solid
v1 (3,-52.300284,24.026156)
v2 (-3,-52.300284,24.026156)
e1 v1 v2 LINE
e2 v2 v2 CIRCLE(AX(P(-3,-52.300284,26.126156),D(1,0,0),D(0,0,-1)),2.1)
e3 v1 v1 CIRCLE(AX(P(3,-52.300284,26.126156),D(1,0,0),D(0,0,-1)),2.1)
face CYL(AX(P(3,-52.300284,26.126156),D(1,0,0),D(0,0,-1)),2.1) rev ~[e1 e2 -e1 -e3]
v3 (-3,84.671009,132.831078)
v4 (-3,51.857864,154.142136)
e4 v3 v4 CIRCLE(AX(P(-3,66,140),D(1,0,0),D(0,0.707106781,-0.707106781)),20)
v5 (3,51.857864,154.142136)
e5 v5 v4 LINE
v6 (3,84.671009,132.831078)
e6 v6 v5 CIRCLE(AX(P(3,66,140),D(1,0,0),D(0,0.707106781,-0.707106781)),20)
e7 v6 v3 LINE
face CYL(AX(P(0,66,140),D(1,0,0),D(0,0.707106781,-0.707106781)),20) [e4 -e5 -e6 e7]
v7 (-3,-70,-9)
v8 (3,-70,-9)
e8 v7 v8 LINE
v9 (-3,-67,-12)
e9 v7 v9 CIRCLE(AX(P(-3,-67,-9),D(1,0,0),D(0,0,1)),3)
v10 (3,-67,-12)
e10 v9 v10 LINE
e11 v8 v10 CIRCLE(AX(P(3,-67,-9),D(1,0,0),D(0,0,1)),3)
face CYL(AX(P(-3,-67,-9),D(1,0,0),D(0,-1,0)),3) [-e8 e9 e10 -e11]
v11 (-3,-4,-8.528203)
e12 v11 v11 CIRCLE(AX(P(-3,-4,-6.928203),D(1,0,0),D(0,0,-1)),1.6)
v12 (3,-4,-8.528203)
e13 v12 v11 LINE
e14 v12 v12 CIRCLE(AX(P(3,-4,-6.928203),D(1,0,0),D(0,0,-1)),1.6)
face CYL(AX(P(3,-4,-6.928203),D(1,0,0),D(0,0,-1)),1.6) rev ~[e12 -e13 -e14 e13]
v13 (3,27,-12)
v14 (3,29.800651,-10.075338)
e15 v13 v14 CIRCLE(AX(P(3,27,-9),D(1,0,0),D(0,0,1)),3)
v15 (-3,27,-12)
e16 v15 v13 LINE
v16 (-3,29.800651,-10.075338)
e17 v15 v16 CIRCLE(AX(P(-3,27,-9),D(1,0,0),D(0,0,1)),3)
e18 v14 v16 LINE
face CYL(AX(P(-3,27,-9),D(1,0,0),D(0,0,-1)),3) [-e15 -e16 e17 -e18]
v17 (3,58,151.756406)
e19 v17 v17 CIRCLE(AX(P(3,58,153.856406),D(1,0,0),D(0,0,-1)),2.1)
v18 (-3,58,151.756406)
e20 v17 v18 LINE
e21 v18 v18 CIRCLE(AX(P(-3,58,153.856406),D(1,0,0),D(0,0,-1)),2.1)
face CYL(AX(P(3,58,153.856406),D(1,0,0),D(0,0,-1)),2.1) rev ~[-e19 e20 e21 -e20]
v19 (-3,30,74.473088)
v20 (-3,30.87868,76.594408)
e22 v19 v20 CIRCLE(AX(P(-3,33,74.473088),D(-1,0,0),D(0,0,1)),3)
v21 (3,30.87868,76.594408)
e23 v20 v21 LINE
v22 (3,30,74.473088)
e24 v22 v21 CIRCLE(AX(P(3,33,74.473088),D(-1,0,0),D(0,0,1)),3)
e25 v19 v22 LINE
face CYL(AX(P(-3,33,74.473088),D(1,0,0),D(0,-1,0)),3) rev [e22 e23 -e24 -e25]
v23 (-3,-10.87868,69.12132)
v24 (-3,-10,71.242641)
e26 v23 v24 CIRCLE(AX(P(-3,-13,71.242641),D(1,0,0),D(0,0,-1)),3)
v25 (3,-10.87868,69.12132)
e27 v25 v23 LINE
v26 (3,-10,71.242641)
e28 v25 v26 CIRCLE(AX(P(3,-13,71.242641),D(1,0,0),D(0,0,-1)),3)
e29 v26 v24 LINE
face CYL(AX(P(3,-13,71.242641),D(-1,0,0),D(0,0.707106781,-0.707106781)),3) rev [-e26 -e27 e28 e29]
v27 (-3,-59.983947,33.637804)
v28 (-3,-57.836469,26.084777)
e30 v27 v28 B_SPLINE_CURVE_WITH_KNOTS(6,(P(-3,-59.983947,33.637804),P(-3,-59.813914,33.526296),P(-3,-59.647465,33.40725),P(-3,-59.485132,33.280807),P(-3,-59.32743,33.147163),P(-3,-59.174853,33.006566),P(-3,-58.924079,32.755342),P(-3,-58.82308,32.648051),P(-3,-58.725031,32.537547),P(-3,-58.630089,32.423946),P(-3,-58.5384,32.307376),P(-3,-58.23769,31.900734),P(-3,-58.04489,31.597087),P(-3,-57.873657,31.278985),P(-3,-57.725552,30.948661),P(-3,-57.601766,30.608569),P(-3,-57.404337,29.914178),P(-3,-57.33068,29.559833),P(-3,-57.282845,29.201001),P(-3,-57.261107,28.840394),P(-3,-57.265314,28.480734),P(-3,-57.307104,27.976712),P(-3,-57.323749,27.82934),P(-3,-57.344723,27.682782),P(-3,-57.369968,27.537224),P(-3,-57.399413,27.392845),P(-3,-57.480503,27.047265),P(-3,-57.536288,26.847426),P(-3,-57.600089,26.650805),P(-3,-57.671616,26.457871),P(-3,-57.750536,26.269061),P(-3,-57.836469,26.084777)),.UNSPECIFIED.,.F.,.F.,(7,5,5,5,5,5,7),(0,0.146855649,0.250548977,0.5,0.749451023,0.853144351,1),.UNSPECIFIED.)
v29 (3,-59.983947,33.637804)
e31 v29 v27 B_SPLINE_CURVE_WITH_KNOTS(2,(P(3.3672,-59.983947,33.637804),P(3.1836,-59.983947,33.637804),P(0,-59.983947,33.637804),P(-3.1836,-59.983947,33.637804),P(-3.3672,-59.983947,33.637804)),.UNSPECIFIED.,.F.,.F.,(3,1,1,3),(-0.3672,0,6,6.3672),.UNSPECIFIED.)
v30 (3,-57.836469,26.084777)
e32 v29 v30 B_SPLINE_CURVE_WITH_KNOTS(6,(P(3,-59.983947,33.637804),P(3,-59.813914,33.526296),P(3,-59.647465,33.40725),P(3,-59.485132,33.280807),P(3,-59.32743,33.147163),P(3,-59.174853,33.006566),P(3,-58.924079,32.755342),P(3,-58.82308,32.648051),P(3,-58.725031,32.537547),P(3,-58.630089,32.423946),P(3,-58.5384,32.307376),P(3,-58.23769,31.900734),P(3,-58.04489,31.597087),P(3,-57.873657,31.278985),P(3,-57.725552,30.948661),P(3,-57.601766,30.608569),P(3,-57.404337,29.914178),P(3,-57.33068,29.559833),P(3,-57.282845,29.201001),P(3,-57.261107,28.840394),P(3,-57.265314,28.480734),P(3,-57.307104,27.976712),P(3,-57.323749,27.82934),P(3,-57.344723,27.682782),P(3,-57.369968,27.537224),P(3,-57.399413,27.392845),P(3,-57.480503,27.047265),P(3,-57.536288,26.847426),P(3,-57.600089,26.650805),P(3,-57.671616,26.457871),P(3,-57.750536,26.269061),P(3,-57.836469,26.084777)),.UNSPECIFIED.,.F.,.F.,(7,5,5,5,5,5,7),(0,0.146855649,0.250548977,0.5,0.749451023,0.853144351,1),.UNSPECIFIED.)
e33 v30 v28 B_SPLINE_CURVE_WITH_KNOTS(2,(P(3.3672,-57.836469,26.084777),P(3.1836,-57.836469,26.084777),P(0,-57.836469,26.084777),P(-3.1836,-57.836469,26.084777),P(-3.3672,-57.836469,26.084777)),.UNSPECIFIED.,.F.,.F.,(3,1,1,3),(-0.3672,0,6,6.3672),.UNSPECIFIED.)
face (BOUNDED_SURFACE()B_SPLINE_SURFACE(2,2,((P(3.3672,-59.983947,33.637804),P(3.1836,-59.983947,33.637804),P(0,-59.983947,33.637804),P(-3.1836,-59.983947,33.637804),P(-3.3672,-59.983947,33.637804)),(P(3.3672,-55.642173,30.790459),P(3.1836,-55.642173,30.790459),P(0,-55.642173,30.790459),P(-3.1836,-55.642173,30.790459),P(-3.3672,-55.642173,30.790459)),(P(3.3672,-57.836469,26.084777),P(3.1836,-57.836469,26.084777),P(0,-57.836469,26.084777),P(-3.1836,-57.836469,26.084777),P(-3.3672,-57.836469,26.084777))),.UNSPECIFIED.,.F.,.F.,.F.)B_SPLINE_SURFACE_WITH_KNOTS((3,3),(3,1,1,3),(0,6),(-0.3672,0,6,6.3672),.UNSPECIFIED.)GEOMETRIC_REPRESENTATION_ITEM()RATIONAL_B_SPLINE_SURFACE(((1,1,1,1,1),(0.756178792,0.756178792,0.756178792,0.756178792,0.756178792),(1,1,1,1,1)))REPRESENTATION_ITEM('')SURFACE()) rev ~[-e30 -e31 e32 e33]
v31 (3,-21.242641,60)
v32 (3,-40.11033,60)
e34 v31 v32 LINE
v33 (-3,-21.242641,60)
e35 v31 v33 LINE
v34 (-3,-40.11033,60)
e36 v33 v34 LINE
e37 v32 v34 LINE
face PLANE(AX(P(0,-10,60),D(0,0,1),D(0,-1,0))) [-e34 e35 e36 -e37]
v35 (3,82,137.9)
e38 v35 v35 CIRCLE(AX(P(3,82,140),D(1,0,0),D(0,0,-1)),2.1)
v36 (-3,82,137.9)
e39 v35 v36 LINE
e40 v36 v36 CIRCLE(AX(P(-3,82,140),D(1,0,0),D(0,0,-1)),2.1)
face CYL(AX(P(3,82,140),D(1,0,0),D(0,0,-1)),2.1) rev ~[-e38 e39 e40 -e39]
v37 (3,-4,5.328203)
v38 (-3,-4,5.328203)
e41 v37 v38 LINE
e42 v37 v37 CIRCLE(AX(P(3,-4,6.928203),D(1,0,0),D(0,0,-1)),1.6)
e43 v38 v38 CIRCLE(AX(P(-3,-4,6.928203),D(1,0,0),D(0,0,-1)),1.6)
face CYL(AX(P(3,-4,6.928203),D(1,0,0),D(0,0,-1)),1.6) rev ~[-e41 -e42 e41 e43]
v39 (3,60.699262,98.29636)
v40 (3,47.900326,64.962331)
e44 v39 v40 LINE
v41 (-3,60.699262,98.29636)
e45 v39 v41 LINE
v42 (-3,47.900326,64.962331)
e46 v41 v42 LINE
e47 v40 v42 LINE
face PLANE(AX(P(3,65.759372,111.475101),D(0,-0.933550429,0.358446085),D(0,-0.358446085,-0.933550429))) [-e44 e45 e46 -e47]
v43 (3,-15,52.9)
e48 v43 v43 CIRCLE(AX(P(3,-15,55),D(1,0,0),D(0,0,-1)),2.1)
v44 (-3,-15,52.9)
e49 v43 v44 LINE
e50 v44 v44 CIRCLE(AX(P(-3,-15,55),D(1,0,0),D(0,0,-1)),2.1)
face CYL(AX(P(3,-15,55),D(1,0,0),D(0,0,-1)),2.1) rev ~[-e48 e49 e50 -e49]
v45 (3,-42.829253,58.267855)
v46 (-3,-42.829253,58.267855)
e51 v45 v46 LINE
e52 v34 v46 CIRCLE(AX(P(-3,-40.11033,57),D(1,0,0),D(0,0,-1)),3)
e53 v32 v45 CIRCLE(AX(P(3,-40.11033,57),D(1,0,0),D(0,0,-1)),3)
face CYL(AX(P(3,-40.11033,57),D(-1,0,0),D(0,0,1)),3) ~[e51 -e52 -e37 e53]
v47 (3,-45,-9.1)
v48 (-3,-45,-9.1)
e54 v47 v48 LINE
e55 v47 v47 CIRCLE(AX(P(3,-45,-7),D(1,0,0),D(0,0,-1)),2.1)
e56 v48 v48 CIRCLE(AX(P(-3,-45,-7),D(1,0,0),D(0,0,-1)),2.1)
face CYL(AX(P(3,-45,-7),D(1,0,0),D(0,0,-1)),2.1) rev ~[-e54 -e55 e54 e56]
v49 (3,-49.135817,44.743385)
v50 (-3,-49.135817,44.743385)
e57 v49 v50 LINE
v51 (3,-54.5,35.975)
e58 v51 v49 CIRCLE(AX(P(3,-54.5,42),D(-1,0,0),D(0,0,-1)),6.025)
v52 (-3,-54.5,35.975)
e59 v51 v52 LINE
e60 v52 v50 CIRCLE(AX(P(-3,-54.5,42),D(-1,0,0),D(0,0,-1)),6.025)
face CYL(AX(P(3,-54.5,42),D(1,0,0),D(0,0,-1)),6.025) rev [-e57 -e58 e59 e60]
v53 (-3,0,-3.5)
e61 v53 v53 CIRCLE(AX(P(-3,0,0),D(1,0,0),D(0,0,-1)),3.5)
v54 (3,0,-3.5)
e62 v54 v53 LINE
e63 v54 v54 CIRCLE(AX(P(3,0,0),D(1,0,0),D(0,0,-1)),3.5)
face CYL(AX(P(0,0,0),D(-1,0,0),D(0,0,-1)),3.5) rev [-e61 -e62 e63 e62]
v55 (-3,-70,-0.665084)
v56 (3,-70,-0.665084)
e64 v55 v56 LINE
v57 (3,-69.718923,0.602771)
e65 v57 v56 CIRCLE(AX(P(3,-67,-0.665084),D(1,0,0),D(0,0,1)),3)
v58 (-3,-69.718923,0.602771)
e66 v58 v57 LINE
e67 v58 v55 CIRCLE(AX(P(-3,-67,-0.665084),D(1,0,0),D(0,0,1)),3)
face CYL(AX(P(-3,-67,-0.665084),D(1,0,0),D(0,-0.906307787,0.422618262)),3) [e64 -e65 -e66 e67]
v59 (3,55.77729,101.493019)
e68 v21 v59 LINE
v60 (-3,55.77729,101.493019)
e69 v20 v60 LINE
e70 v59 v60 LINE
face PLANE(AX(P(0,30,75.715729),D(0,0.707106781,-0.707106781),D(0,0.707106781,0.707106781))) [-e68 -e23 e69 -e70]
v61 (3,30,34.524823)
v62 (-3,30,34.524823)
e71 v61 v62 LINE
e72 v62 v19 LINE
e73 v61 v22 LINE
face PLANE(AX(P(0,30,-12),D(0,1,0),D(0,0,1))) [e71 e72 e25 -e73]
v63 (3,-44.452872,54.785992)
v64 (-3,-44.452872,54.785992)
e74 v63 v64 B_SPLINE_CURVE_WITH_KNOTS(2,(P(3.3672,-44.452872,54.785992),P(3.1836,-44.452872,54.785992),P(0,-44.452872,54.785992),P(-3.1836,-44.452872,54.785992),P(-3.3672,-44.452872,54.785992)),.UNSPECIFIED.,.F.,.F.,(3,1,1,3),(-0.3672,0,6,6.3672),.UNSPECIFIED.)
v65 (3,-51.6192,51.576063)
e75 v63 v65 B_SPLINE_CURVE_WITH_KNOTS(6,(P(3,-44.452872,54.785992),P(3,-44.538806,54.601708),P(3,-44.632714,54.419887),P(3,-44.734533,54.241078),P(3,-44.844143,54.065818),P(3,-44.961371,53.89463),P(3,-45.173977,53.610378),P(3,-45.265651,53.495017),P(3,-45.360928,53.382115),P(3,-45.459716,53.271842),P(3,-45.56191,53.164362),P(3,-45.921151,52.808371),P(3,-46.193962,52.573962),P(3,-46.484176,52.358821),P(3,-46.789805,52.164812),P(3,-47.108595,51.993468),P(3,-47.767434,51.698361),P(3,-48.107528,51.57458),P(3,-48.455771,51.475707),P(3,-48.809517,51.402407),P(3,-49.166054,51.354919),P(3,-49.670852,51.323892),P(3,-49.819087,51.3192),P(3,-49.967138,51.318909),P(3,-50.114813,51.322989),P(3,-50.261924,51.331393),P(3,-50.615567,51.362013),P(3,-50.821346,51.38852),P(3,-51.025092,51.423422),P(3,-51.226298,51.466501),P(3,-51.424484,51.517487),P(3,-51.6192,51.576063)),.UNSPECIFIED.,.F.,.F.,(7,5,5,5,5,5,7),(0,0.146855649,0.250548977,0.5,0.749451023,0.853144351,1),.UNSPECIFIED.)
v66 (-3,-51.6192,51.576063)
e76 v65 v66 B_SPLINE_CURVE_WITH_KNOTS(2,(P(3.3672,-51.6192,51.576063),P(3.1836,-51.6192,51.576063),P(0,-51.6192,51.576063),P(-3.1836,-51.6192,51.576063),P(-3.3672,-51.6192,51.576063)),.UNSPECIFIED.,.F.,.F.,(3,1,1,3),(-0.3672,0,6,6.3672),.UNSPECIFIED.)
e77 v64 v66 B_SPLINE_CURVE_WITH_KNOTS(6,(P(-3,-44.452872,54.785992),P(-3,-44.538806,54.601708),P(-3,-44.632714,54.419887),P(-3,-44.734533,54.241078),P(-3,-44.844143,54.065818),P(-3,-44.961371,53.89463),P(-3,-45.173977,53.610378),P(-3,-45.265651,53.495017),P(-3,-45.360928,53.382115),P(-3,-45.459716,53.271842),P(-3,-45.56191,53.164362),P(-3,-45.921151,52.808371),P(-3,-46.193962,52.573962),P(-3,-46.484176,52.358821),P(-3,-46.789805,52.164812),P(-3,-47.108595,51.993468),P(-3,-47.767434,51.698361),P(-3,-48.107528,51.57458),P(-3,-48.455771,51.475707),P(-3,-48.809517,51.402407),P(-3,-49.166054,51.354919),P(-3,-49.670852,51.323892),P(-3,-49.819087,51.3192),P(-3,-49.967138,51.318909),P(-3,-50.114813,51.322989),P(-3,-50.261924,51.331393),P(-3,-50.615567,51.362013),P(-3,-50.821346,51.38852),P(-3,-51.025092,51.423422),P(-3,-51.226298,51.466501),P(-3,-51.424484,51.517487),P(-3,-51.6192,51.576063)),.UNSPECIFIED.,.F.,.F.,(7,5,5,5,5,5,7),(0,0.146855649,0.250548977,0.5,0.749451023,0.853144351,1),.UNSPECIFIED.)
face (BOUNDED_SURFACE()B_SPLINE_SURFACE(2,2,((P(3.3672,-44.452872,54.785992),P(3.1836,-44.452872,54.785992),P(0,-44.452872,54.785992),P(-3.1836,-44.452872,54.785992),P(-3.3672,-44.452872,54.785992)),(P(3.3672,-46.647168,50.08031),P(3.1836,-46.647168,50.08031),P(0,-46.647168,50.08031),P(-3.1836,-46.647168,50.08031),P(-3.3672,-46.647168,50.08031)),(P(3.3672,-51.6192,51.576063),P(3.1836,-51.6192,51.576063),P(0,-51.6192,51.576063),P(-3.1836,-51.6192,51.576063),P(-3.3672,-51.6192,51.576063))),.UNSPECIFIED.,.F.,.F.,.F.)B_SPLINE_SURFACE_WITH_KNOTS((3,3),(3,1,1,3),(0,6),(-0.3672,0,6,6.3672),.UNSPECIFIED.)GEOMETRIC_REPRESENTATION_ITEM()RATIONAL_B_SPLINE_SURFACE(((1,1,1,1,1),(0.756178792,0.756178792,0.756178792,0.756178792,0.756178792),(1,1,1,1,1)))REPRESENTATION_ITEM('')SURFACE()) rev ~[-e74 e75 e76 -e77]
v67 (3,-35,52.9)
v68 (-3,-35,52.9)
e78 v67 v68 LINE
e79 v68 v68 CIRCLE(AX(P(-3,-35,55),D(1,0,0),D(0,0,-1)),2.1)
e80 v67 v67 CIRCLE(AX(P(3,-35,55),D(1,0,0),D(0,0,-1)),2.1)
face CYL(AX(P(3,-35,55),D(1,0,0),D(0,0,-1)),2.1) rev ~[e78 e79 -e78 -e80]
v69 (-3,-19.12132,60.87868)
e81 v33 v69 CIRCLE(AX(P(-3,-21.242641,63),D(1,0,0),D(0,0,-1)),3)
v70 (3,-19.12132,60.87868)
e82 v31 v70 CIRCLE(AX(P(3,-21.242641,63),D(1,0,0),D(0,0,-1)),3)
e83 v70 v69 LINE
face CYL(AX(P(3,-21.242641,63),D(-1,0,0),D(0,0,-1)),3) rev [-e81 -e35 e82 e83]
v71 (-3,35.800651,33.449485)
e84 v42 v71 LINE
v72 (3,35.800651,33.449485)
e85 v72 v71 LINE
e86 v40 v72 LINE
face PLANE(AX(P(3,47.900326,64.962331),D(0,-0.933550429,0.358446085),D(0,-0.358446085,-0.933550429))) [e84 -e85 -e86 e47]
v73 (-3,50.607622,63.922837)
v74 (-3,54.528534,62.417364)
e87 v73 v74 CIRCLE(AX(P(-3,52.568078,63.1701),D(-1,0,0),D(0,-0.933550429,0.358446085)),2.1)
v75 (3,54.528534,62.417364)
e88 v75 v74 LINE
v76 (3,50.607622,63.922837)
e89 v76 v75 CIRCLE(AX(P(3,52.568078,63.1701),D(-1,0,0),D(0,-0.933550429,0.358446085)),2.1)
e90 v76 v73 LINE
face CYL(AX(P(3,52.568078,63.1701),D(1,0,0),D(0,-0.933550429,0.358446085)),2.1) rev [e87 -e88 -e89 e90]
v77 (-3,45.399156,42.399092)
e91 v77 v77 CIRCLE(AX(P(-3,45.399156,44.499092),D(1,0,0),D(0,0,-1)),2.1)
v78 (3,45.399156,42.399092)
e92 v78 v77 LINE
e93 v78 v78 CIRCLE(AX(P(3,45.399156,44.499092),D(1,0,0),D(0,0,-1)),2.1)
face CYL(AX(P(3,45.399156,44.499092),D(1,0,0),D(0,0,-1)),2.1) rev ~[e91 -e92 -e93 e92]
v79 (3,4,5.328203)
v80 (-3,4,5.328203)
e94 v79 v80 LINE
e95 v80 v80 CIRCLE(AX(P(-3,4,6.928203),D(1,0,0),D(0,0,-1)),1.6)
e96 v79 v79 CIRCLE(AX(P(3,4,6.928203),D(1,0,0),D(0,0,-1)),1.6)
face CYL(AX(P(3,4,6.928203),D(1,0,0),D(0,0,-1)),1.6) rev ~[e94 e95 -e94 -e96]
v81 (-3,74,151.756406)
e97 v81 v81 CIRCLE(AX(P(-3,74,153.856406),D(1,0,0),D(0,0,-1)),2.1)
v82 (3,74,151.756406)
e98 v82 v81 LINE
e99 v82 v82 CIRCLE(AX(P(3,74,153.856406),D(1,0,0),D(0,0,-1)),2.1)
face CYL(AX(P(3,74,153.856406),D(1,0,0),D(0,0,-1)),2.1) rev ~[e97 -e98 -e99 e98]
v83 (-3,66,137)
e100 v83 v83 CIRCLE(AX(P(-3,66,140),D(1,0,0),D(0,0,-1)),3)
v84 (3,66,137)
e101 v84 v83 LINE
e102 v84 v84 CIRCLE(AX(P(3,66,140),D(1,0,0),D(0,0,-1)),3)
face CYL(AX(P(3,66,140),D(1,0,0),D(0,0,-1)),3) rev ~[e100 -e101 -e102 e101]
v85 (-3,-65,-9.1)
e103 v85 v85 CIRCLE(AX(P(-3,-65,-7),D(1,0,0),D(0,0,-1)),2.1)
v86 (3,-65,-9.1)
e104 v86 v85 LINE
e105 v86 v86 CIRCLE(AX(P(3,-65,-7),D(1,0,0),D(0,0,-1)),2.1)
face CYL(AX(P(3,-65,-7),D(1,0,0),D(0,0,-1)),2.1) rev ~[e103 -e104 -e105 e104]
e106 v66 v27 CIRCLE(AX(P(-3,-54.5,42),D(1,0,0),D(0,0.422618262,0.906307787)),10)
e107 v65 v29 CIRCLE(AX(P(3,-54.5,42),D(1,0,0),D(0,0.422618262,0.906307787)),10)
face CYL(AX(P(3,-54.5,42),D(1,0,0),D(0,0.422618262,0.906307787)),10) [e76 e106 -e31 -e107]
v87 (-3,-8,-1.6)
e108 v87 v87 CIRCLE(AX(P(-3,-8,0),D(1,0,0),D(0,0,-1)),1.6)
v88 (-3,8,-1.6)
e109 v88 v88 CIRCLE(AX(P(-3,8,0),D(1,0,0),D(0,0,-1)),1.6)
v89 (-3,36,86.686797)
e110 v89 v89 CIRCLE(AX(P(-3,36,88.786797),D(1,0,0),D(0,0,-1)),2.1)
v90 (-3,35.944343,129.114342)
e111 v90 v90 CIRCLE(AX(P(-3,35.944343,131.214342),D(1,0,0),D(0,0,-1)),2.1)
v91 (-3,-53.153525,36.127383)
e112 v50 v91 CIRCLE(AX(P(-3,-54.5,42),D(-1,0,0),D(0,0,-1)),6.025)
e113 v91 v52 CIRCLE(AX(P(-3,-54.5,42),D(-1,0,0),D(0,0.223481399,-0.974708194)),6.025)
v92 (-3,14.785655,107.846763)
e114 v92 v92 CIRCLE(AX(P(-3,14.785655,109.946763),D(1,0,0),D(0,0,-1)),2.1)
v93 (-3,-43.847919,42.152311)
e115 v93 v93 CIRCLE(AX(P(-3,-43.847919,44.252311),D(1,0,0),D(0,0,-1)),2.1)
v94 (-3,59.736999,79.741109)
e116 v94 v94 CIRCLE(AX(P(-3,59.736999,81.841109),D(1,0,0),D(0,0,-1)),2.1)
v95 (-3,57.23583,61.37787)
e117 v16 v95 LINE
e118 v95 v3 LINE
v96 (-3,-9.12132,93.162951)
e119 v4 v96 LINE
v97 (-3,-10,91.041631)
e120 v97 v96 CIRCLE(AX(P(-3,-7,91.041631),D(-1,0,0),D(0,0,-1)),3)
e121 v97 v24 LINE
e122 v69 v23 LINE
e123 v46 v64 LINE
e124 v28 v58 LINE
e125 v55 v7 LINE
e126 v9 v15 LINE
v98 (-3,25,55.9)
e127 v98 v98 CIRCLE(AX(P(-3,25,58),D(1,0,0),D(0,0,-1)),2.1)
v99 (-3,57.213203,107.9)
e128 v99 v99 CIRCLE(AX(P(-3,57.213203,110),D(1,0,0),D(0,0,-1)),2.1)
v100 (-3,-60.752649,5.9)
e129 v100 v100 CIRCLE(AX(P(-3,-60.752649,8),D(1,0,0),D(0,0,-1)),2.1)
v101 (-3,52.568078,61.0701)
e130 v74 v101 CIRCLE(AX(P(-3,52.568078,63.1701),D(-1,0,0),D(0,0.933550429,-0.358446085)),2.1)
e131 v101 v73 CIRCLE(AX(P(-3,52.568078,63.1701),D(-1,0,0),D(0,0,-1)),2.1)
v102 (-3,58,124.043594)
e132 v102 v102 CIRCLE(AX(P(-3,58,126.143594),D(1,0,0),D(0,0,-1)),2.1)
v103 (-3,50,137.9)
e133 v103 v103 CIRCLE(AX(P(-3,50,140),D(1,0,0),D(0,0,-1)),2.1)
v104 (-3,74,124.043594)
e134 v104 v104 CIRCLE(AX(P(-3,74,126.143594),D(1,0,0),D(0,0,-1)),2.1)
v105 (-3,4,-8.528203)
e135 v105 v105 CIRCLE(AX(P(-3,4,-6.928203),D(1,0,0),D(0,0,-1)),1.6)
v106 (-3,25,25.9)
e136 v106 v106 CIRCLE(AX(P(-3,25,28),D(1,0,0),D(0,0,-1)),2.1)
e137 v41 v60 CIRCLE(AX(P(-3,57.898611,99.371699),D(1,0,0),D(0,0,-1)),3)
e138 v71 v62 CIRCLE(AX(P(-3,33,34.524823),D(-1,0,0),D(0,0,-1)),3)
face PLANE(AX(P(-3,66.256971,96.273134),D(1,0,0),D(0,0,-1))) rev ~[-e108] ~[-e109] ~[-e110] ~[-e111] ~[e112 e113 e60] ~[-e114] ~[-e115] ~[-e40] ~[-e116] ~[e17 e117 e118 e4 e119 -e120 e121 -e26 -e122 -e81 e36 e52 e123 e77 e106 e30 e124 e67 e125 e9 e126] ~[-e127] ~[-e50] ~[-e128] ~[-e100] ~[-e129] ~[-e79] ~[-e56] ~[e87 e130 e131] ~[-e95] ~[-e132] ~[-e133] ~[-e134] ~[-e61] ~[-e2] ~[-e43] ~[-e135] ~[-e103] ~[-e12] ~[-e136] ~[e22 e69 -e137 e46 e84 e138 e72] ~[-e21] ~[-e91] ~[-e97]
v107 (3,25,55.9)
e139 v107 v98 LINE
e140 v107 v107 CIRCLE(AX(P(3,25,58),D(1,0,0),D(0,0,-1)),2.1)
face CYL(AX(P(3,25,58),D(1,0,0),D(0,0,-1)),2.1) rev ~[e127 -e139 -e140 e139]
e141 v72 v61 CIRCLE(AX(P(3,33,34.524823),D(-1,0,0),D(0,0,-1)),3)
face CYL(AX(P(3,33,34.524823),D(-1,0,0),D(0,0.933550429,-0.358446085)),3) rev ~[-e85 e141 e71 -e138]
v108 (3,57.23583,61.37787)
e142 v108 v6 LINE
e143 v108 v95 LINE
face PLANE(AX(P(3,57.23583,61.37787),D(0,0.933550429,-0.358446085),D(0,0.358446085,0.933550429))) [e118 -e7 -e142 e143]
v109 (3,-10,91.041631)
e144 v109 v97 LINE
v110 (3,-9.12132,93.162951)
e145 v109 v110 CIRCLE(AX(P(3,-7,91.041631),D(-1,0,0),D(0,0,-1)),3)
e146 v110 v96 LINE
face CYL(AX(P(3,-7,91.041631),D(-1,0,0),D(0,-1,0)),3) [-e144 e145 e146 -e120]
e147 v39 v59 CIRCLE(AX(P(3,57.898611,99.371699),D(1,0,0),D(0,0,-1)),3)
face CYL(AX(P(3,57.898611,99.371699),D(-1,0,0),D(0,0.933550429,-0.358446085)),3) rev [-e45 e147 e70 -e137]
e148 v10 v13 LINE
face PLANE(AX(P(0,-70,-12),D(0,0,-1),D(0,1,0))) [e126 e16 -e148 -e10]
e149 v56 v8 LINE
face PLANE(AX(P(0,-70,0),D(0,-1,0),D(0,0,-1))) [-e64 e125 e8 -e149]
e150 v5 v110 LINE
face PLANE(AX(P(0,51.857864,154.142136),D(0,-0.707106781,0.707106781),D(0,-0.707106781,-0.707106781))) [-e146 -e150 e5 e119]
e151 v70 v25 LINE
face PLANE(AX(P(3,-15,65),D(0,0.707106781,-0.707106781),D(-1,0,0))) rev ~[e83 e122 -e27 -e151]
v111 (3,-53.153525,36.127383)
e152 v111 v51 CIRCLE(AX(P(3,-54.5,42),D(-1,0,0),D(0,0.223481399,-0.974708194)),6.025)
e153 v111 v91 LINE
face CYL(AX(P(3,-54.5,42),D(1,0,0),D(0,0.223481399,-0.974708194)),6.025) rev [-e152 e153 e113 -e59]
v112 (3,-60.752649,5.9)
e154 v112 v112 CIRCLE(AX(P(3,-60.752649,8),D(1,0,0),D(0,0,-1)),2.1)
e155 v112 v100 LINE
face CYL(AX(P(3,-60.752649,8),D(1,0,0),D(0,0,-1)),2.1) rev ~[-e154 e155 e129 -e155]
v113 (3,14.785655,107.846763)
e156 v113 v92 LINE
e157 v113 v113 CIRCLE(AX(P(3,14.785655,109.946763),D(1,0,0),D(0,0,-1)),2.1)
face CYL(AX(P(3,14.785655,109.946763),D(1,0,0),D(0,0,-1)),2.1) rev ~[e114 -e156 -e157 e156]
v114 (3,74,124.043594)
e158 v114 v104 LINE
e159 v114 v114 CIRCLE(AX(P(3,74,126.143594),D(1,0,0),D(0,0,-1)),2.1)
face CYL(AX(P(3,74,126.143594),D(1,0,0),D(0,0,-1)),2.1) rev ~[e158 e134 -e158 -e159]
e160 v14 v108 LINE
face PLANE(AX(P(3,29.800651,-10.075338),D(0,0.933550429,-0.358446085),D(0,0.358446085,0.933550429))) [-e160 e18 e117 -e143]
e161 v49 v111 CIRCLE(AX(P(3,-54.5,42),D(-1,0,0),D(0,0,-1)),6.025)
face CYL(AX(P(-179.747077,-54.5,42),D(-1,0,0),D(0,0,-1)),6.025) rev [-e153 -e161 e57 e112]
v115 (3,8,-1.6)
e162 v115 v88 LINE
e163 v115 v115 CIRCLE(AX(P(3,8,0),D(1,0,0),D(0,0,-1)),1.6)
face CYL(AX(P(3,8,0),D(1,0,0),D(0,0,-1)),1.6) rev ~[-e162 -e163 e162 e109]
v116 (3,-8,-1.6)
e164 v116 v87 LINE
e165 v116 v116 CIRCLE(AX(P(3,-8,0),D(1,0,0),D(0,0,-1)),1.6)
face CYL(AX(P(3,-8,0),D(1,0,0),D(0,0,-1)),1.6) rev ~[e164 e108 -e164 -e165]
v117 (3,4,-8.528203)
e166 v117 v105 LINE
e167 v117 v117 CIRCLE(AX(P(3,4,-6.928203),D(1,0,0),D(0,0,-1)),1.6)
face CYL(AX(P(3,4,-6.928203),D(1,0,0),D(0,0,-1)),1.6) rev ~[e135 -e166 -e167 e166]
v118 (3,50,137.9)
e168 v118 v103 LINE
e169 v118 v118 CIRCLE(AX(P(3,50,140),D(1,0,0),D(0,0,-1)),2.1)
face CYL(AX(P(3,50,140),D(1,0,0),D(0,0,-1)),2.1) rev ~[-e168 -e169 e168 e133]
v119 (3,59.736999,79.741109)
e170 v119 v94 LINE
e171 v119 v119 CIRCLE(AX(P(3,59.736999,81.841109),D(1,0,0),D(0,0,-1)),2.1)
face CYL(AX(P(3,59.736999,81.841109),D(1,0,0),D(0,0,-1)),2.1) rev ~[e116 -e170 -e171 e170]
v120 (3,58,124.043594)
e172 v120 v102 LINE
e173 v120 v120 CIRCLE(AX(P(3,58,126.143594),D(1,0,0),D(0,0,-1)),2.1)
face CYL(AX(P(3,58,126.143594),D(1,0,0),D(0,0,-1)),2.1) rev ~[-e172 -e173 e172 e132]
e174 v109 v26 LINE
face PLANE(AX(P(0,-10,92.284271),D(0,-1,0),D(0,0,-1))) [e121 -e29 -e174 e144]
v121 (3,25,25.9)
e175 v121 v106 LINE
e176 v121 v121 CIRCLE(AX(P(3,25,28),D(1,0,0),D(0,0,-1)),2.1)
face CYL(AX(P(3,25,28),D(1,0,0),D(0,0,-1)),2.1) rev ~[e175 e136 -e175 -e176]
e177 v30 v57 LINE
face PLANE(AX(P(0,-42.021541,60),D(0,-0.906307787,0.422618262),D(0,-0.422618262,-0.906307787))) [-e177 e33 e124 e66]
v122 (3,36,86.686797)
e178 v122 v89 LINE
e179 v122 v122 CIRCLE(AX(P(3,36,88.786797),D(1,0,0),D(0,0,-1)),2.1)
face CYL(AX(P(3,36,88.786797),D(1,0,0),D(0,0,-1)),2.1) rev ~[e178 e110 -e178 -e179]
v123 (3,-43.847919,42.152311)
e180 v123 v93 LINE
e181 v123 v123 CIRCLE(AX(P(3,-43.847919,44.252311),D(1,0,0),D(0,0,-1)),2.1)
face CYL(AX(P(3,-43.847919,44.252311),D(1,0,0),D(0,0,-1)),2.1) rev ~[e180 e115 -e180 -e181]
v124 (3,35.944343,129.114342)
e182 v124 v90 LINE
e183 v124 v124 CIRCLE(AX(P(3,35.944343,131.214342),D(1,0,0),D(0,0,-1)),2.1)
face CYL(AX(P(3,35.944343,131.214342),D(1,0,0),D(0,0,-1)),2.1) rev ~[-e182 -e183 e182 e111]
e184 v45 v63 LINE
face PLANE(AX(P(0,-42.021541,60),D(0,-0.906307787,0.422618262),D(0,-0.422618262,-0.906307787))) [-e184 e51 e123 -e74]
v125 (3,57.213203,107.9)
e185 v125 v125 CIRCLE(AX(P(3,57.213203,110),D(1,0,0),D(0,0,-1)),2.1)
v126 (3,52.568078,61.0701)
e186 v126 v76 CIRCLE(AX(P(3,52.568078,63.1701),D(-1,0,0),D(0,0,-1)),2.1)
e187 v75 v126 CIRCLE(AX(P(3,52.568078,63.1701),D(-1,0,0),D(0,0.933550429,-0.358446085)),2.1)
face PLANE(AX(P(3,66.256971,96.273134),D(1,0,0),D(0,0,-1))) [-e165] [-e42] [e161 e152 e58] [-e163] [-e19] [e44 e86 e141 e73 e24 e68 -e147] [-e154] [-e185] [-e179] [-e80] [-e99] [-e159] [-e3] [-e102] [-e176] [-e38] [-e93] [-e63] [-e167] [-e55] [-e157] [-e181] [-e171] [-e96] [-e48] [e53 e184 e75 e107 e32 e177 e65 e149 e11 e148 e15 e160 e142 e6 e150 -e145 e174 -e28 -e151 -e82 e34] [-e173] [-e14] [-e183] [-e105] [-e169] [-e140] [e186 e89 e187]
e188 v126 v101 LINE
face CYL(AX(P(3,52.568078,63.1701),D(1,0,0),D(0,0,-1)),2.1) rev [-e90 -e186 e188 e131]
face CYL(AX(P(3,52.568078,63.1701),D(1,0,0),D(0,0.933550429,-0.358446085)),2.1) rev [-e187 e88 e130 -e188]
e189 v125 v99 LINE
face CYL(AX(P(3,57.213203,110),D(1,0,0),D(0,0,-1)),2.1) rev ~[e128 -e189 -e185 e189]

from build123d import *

# Parameters (mm, degrees)
SKETCH_1_R               = 3.5
EXTRUDE_1_DEPTH          = 3
SKETCH_2_R               = 3
SKETCH_2_R_2             = 2.1
CUT_EXTRUDE_1_DEPTH      = 10
SKETCH_4_R               = 2.1
CUT_EXTRUDE_3_DEPTH      = 10
CHAMFER_1_SIZE           = 10
FILLET_1_R               = 3
SKETCH_5_R               = 2.1
CUT_EXTRUDE_4_DEPTH      = 10
SKETCH_3_R               = 1.6
CUT_EXTRUDE_5_DEPTH      = 10
EXTRUDE_2_DEPTH          = 6
CUT_EXTRUDE_6_DEPTH      = 182.747077005
CUT_EXTRUDE_6_DEPTH_BACK = 182.747077005
SKETCH_6_3_R             = 6.025
FILLET_2_R               = 6
SKETCH_7_R               = 2.1
EXTRUDE_3_DEPTH          = 6
FILLET_3_R               = 3


with BuildPart() as part:
    # 草图1 → 凸台-拉伸1 (new, symmetric)
    with BuildSketch(Plane(origin=(0, 0, 0), x_dir=(0, 0, -1), z_dir=(1, 0, 0))):
        with BuildLine():
            Line((-60, -42.021540511), (0, -70))
            Line((0, -70), (12, -70))
            Line((12, -70), (12, 30))
            Line((12, 30), (-75.715728753, 30))
            Line((-75.715728753, 30), (-125.857864376, 80.142135624))
            ThreePointArc((-125.857864376, 80.142135624), (-154.142135624, 80.142135624), (-154.142135624, 51.857864376))
            Line((-154.142135624, 51.857864376), (-92.284271247, -10))
            Line((-92.284271247, -10), (-60, -10))
            Line((-60, -10), (-60, -42.021540511))
        make_face()
        Circle(SKETCH_1_R, mode=Mode.SUBTRACT)
    extrude(amount=EXTRUDE_1_DEPTH, both=True)

    # 草图2 → 切除-拉伸1 (cut)
    with BuildSketch(Plane(origin=(3, 0, 0), x_dir=(0, 0, -1), z_dir=(1, 0, 0))):
        with Locations((-140, 66)):
            Circle(SKETCH_2_R)
        with Locations((-140, 82)):
            Circle(SKETCH_2_R_2)
        with Locations((-126.143593539, 74)):
            Circle(SKETCH_2_R_2)
        with Locations((-126.143593539, 58)):
            Circle(SKETCH_2_R_2)
        with Locations((-140, 50)):
            Circle(SKETCH_2_R_2)
        with Locations((-153.856406461, 58)):
            Circle(SKETCH_2_R_2)
        with Locations((-153.856406461, 74)):
            Circle(SKETCH_2_R_2)
    extrude(amount=-CUT_EXTRUDE_1_DEPTH, mode=Mode.SUBTRACT)

    # 草图4 → 切除-拉伸3 (cut)
    with BuildSketch(Plane(origin=(3, 0, 0), x_dir=(0, 0, -1), z_dir=(1, 0, 0))):
        with Locations((-55, -15)):
            Circle(SKETCH_4_R)
        with Locations((-55, -35)):
            Circle(SKETCH_4_R)
        with Locations((7, -65)):
            Circle(SKETCH_4_R)
        with Locations((7, -45)):
            Circle(SKETCH_4_R)
        with Locations((-8, -60.75264914)):
            Circle(SKETCH_4_R)
        with Locations((-26.126155741, -52.300283905)):
            Circle(SKETCH_4_R)
        with Locations((-44.252311481, -43.84791867)):
            Circle(SKETCH_4_R)
    extrude(amount=-CUT_EXTRUDE_3_DEPTH, mode=Mode.SUBTRACT)

    # 倒角1
    chamfer_1_edges = [part.edges().sort_by_distance(p)[0] for p in [
        (0, -10, 60),
    ]]
    chamfer(chamfer_1_edges, length=CHAMFER_1_SIZE)

    # 圆角1
    fillet_1_edges = [part.edges().sort_by_distance(p)[0] for p in [
        (0, -20, 60),
        (0, -10, 70),
        (0, 30, -12),
        (0, -70, -12),
        (0, -70, 0),
        (0, -42.021540511, 60),
        (0, -10, 92.284271247),
        (0, 30, 75.715728753),
    ]]
    fillet(fillet_1_edges, radius=FILLET_1_R)

    # 草图5 → 切除-拉伸4 (cut)
    with BuildSketch(Plane(origin=(3, 0, 0), x_dir=(0, 0, -1), z_dir=(1, 0, 0))):
        with Locations((-110, 57.213203436)):
            Circle(SKETCH_5_R)
        with Locations((-88.786796564, 36)):
            Circle(SKETCH_5_R)
        with Locations((-109.946763354, 14.785654888)):
            Circle(SKETCH_5_R)
        with Locations((-131.214342006, 35.94434337)):
            Circle(SKETCH_5_R)
        with Locations((-58, 25)):
            Circle(SKETCH_5_R)
        with Locations((-28, 25)):
            Circle(SKETCH_5_R)
    extrude(amount=-CUT_EXTRUDE_4_DEPTH, mode=Mode.SUBTRACT)

    # 草图3 → 切除-拉伸5 (cut)
    with BuildSketch(Plane(origin=(3, 0, 0), x_dir=(0, 0, -1), z_dir=(1, 0, 0))):
        with Locations((0, 8)):
            Circle(SKETCH_3_R)
        with Locations((6.92820323, 4)):
            Circle(SKETCH_3_R)
        with Locations((6.92820323, -4)):
            Circle(SKETCH_3_R)
        with Locations((0, -8)):
            Circle(SKETCH_3_R)
        with Locations((-6.92820323, -4)):
            Circle(SKETCH_3_R)
        with Locations((-6.92820323, 4)):
            Circle(SKETCH_3_R)
    extrude(amount=-CUT_EXTRUDE_5_DEPTH, mode=Mode.SUBTRACT)

    # 草图6 → 凸台-拉伸2 (add)
    with BuildSketch(Plane(origin=(3, 0, 0), x_dir=(0, 0, -1), z_dir=(1, 0, 0))):
        with BuildLine():
            ThreePointArc((-51.06307787, -50.273817383), (-46.226182617, -63.56307787), (-32.93692213, -58.726182617))
            ThreePointArc((-32.93692213, -58.726182617), (-32.302787653, -56.942145102), (-32.016290131, -55.070558726))
            Line((-32.016290131, -55.070558726), (-36.127383127, -53.153524579))
            ThreePointArc((-36.127383127, -53.153524579), (-36.013216988, -53.822464636), (-35.975, -54.5))
            ThreePointArc((-35.975, -54.5), (-45.144179406, -59.639529245), (-44.743385348, -49.13581676))
            Line((-44.743385348, -49.13581676), (-48.854478344, -47.218782613))
            ThreePointArc((-48.854478344, -47.218782613), (-50.10403963, -48.64128498), (-51.06307787, -50.273817383))
        make_face()
        with BuildLine():
            Line((-49.498462108, -46.918488052), (-51.06307787, -50.273817383))
            ThreePointArc((-51.06307787, -50.273817383), (-50.10403963, -48.64128498), (-48.854478344, -47.218782613))
            Line((-48.854478344, -47.218782613), (-49.498462108, -46.918488052))
        make_face()
        with BuildLine():
            ThreePointArc((-32.016290131, -55.070558726), (-32.302787653, -56.942145102), (-32.93692213, -58.726182617))
            Line((-32.93692213, -58.726182617), (-31.372306367, -55.370853287))
            Line((-31.372306367, -55.370853287), (-32.016290131, -55.070558726))
        make_face()
    extrude(amount=-EXTRUDE_2_DEPTH)

    # 草图6<3> → 切除-拉伸6 (cut, two sides: drawn at the far end of the back side and taken through both)
    with BuildSketch(Plane(origin=(3, 0, 0), x_dir=(0, 0, -1), z_dir=(1, 0, 0)).offset(-CUT_EXTRUDE_6_DEPTH_BACK)):
        with Locations((-42, -54.5)):
            Circle(SKETCH_6_3_R)
    extrude(amount=CUT_EXTRUDE_6_DEPTH + CUT_EXTRUDE_6_DEPTH_BACK, mode=Mode.SUBTRACT)

    # 圆角2
    fillet_2_edges = [part.edges().sort_by_distance(p)[0] for p in [
        (0, -46.918488052, 49.498462108),
        (0, -55.370853287, 31.372306367),
    ]]
    fillet(fillet_2_edges, radius=FILLET_2_R)

    # 草图7 → 凸台-拉伸3 (add)
    # profile 1 of 2: a face of its own
    with BuildSketch(Plane(origin=(3, 0, 0), x_dir=(0, 0, -1), z_dir=(1, 0, 0))):
        with BuildLine():
            Line((-61.377870017, 57.235829935), (-132.83107829, 84.671008583))
            ThreePointArc((-132.83107829, 84.671008583), (-129.106517373, 82.772955502), (-125.857864376, 80.142135624))
            Line((-125.857864376, 80.142135624), (-111.475100576, 65.759371824))
            Line((-111.475100576, 65.759371824), (-64.962330872, 47.900325644))
            Line((-64.962330872, 47.900325644), (-63.922837224, 50.607621888))
            ThreePointArc((-63.922837224, 50.607621888), (-65.130556346, 53.320814569), (-62.417363665, 54.528533691))
            Line((-62.417363665, 54.528533691), (-61.377870017, 57.235829935))
        make_face()
        with Locations((-81.841109028, 59.736999499)):
            Circle(SKETCH_7_R, mode=Mode.SUBTRACT)
    # profile 2 of 2: a face of its own
    with BuildSketch(Plane(origin=(3, 0, 0), x_dir=(0, 0, -1), z_dir=(1, 0, 0))):
        with BuildLine():
            Line((10.075338256, 29.800651288), (-61.377870017, 57.235829935))
            Line((-61.377870017, 57.235829935), (-62.417363665, 54.528533691))
            ThreePointArc((-62.417363665, 54.528533691), (-61.439385673, 53.757458461), (-61.070100444, 52.56807779))
            ThreePointArc((-61.070100444, 52.56807779), (-61.980719773, 50.837363019), (-63.922837224, 50.607621888))
            Line((-63.922837224, 50.607621888), (-64.962330872, 47.900325644))
            Line((-64.962330872, 47.900325644), (-18.342051383, 30))
            Line((-18.342051383, 30), (9, 30))
            ThreePointArc((9, 30), (9.546830018, 29.949741841), (10.075338256, 29.800651288))
        make_face()
        with Locations((-44.499091861, 45.39915608)):
            Circle(SKETCH_7_R, mode=Mode.SUBTRACT)
    extrude(amount=-EXTRUDE_3_DEPTH)

    # 圆角3
    fillet_3_edges = [part.edges().sort_by_distance(p)[0] for p in [
        (0, 65.759371824, 111.475100576),
        (0, 30, 18.342051383),
    ]]
    fillet(fillet_3_edges, radius=FILLET_3_R)


solid = part.part
